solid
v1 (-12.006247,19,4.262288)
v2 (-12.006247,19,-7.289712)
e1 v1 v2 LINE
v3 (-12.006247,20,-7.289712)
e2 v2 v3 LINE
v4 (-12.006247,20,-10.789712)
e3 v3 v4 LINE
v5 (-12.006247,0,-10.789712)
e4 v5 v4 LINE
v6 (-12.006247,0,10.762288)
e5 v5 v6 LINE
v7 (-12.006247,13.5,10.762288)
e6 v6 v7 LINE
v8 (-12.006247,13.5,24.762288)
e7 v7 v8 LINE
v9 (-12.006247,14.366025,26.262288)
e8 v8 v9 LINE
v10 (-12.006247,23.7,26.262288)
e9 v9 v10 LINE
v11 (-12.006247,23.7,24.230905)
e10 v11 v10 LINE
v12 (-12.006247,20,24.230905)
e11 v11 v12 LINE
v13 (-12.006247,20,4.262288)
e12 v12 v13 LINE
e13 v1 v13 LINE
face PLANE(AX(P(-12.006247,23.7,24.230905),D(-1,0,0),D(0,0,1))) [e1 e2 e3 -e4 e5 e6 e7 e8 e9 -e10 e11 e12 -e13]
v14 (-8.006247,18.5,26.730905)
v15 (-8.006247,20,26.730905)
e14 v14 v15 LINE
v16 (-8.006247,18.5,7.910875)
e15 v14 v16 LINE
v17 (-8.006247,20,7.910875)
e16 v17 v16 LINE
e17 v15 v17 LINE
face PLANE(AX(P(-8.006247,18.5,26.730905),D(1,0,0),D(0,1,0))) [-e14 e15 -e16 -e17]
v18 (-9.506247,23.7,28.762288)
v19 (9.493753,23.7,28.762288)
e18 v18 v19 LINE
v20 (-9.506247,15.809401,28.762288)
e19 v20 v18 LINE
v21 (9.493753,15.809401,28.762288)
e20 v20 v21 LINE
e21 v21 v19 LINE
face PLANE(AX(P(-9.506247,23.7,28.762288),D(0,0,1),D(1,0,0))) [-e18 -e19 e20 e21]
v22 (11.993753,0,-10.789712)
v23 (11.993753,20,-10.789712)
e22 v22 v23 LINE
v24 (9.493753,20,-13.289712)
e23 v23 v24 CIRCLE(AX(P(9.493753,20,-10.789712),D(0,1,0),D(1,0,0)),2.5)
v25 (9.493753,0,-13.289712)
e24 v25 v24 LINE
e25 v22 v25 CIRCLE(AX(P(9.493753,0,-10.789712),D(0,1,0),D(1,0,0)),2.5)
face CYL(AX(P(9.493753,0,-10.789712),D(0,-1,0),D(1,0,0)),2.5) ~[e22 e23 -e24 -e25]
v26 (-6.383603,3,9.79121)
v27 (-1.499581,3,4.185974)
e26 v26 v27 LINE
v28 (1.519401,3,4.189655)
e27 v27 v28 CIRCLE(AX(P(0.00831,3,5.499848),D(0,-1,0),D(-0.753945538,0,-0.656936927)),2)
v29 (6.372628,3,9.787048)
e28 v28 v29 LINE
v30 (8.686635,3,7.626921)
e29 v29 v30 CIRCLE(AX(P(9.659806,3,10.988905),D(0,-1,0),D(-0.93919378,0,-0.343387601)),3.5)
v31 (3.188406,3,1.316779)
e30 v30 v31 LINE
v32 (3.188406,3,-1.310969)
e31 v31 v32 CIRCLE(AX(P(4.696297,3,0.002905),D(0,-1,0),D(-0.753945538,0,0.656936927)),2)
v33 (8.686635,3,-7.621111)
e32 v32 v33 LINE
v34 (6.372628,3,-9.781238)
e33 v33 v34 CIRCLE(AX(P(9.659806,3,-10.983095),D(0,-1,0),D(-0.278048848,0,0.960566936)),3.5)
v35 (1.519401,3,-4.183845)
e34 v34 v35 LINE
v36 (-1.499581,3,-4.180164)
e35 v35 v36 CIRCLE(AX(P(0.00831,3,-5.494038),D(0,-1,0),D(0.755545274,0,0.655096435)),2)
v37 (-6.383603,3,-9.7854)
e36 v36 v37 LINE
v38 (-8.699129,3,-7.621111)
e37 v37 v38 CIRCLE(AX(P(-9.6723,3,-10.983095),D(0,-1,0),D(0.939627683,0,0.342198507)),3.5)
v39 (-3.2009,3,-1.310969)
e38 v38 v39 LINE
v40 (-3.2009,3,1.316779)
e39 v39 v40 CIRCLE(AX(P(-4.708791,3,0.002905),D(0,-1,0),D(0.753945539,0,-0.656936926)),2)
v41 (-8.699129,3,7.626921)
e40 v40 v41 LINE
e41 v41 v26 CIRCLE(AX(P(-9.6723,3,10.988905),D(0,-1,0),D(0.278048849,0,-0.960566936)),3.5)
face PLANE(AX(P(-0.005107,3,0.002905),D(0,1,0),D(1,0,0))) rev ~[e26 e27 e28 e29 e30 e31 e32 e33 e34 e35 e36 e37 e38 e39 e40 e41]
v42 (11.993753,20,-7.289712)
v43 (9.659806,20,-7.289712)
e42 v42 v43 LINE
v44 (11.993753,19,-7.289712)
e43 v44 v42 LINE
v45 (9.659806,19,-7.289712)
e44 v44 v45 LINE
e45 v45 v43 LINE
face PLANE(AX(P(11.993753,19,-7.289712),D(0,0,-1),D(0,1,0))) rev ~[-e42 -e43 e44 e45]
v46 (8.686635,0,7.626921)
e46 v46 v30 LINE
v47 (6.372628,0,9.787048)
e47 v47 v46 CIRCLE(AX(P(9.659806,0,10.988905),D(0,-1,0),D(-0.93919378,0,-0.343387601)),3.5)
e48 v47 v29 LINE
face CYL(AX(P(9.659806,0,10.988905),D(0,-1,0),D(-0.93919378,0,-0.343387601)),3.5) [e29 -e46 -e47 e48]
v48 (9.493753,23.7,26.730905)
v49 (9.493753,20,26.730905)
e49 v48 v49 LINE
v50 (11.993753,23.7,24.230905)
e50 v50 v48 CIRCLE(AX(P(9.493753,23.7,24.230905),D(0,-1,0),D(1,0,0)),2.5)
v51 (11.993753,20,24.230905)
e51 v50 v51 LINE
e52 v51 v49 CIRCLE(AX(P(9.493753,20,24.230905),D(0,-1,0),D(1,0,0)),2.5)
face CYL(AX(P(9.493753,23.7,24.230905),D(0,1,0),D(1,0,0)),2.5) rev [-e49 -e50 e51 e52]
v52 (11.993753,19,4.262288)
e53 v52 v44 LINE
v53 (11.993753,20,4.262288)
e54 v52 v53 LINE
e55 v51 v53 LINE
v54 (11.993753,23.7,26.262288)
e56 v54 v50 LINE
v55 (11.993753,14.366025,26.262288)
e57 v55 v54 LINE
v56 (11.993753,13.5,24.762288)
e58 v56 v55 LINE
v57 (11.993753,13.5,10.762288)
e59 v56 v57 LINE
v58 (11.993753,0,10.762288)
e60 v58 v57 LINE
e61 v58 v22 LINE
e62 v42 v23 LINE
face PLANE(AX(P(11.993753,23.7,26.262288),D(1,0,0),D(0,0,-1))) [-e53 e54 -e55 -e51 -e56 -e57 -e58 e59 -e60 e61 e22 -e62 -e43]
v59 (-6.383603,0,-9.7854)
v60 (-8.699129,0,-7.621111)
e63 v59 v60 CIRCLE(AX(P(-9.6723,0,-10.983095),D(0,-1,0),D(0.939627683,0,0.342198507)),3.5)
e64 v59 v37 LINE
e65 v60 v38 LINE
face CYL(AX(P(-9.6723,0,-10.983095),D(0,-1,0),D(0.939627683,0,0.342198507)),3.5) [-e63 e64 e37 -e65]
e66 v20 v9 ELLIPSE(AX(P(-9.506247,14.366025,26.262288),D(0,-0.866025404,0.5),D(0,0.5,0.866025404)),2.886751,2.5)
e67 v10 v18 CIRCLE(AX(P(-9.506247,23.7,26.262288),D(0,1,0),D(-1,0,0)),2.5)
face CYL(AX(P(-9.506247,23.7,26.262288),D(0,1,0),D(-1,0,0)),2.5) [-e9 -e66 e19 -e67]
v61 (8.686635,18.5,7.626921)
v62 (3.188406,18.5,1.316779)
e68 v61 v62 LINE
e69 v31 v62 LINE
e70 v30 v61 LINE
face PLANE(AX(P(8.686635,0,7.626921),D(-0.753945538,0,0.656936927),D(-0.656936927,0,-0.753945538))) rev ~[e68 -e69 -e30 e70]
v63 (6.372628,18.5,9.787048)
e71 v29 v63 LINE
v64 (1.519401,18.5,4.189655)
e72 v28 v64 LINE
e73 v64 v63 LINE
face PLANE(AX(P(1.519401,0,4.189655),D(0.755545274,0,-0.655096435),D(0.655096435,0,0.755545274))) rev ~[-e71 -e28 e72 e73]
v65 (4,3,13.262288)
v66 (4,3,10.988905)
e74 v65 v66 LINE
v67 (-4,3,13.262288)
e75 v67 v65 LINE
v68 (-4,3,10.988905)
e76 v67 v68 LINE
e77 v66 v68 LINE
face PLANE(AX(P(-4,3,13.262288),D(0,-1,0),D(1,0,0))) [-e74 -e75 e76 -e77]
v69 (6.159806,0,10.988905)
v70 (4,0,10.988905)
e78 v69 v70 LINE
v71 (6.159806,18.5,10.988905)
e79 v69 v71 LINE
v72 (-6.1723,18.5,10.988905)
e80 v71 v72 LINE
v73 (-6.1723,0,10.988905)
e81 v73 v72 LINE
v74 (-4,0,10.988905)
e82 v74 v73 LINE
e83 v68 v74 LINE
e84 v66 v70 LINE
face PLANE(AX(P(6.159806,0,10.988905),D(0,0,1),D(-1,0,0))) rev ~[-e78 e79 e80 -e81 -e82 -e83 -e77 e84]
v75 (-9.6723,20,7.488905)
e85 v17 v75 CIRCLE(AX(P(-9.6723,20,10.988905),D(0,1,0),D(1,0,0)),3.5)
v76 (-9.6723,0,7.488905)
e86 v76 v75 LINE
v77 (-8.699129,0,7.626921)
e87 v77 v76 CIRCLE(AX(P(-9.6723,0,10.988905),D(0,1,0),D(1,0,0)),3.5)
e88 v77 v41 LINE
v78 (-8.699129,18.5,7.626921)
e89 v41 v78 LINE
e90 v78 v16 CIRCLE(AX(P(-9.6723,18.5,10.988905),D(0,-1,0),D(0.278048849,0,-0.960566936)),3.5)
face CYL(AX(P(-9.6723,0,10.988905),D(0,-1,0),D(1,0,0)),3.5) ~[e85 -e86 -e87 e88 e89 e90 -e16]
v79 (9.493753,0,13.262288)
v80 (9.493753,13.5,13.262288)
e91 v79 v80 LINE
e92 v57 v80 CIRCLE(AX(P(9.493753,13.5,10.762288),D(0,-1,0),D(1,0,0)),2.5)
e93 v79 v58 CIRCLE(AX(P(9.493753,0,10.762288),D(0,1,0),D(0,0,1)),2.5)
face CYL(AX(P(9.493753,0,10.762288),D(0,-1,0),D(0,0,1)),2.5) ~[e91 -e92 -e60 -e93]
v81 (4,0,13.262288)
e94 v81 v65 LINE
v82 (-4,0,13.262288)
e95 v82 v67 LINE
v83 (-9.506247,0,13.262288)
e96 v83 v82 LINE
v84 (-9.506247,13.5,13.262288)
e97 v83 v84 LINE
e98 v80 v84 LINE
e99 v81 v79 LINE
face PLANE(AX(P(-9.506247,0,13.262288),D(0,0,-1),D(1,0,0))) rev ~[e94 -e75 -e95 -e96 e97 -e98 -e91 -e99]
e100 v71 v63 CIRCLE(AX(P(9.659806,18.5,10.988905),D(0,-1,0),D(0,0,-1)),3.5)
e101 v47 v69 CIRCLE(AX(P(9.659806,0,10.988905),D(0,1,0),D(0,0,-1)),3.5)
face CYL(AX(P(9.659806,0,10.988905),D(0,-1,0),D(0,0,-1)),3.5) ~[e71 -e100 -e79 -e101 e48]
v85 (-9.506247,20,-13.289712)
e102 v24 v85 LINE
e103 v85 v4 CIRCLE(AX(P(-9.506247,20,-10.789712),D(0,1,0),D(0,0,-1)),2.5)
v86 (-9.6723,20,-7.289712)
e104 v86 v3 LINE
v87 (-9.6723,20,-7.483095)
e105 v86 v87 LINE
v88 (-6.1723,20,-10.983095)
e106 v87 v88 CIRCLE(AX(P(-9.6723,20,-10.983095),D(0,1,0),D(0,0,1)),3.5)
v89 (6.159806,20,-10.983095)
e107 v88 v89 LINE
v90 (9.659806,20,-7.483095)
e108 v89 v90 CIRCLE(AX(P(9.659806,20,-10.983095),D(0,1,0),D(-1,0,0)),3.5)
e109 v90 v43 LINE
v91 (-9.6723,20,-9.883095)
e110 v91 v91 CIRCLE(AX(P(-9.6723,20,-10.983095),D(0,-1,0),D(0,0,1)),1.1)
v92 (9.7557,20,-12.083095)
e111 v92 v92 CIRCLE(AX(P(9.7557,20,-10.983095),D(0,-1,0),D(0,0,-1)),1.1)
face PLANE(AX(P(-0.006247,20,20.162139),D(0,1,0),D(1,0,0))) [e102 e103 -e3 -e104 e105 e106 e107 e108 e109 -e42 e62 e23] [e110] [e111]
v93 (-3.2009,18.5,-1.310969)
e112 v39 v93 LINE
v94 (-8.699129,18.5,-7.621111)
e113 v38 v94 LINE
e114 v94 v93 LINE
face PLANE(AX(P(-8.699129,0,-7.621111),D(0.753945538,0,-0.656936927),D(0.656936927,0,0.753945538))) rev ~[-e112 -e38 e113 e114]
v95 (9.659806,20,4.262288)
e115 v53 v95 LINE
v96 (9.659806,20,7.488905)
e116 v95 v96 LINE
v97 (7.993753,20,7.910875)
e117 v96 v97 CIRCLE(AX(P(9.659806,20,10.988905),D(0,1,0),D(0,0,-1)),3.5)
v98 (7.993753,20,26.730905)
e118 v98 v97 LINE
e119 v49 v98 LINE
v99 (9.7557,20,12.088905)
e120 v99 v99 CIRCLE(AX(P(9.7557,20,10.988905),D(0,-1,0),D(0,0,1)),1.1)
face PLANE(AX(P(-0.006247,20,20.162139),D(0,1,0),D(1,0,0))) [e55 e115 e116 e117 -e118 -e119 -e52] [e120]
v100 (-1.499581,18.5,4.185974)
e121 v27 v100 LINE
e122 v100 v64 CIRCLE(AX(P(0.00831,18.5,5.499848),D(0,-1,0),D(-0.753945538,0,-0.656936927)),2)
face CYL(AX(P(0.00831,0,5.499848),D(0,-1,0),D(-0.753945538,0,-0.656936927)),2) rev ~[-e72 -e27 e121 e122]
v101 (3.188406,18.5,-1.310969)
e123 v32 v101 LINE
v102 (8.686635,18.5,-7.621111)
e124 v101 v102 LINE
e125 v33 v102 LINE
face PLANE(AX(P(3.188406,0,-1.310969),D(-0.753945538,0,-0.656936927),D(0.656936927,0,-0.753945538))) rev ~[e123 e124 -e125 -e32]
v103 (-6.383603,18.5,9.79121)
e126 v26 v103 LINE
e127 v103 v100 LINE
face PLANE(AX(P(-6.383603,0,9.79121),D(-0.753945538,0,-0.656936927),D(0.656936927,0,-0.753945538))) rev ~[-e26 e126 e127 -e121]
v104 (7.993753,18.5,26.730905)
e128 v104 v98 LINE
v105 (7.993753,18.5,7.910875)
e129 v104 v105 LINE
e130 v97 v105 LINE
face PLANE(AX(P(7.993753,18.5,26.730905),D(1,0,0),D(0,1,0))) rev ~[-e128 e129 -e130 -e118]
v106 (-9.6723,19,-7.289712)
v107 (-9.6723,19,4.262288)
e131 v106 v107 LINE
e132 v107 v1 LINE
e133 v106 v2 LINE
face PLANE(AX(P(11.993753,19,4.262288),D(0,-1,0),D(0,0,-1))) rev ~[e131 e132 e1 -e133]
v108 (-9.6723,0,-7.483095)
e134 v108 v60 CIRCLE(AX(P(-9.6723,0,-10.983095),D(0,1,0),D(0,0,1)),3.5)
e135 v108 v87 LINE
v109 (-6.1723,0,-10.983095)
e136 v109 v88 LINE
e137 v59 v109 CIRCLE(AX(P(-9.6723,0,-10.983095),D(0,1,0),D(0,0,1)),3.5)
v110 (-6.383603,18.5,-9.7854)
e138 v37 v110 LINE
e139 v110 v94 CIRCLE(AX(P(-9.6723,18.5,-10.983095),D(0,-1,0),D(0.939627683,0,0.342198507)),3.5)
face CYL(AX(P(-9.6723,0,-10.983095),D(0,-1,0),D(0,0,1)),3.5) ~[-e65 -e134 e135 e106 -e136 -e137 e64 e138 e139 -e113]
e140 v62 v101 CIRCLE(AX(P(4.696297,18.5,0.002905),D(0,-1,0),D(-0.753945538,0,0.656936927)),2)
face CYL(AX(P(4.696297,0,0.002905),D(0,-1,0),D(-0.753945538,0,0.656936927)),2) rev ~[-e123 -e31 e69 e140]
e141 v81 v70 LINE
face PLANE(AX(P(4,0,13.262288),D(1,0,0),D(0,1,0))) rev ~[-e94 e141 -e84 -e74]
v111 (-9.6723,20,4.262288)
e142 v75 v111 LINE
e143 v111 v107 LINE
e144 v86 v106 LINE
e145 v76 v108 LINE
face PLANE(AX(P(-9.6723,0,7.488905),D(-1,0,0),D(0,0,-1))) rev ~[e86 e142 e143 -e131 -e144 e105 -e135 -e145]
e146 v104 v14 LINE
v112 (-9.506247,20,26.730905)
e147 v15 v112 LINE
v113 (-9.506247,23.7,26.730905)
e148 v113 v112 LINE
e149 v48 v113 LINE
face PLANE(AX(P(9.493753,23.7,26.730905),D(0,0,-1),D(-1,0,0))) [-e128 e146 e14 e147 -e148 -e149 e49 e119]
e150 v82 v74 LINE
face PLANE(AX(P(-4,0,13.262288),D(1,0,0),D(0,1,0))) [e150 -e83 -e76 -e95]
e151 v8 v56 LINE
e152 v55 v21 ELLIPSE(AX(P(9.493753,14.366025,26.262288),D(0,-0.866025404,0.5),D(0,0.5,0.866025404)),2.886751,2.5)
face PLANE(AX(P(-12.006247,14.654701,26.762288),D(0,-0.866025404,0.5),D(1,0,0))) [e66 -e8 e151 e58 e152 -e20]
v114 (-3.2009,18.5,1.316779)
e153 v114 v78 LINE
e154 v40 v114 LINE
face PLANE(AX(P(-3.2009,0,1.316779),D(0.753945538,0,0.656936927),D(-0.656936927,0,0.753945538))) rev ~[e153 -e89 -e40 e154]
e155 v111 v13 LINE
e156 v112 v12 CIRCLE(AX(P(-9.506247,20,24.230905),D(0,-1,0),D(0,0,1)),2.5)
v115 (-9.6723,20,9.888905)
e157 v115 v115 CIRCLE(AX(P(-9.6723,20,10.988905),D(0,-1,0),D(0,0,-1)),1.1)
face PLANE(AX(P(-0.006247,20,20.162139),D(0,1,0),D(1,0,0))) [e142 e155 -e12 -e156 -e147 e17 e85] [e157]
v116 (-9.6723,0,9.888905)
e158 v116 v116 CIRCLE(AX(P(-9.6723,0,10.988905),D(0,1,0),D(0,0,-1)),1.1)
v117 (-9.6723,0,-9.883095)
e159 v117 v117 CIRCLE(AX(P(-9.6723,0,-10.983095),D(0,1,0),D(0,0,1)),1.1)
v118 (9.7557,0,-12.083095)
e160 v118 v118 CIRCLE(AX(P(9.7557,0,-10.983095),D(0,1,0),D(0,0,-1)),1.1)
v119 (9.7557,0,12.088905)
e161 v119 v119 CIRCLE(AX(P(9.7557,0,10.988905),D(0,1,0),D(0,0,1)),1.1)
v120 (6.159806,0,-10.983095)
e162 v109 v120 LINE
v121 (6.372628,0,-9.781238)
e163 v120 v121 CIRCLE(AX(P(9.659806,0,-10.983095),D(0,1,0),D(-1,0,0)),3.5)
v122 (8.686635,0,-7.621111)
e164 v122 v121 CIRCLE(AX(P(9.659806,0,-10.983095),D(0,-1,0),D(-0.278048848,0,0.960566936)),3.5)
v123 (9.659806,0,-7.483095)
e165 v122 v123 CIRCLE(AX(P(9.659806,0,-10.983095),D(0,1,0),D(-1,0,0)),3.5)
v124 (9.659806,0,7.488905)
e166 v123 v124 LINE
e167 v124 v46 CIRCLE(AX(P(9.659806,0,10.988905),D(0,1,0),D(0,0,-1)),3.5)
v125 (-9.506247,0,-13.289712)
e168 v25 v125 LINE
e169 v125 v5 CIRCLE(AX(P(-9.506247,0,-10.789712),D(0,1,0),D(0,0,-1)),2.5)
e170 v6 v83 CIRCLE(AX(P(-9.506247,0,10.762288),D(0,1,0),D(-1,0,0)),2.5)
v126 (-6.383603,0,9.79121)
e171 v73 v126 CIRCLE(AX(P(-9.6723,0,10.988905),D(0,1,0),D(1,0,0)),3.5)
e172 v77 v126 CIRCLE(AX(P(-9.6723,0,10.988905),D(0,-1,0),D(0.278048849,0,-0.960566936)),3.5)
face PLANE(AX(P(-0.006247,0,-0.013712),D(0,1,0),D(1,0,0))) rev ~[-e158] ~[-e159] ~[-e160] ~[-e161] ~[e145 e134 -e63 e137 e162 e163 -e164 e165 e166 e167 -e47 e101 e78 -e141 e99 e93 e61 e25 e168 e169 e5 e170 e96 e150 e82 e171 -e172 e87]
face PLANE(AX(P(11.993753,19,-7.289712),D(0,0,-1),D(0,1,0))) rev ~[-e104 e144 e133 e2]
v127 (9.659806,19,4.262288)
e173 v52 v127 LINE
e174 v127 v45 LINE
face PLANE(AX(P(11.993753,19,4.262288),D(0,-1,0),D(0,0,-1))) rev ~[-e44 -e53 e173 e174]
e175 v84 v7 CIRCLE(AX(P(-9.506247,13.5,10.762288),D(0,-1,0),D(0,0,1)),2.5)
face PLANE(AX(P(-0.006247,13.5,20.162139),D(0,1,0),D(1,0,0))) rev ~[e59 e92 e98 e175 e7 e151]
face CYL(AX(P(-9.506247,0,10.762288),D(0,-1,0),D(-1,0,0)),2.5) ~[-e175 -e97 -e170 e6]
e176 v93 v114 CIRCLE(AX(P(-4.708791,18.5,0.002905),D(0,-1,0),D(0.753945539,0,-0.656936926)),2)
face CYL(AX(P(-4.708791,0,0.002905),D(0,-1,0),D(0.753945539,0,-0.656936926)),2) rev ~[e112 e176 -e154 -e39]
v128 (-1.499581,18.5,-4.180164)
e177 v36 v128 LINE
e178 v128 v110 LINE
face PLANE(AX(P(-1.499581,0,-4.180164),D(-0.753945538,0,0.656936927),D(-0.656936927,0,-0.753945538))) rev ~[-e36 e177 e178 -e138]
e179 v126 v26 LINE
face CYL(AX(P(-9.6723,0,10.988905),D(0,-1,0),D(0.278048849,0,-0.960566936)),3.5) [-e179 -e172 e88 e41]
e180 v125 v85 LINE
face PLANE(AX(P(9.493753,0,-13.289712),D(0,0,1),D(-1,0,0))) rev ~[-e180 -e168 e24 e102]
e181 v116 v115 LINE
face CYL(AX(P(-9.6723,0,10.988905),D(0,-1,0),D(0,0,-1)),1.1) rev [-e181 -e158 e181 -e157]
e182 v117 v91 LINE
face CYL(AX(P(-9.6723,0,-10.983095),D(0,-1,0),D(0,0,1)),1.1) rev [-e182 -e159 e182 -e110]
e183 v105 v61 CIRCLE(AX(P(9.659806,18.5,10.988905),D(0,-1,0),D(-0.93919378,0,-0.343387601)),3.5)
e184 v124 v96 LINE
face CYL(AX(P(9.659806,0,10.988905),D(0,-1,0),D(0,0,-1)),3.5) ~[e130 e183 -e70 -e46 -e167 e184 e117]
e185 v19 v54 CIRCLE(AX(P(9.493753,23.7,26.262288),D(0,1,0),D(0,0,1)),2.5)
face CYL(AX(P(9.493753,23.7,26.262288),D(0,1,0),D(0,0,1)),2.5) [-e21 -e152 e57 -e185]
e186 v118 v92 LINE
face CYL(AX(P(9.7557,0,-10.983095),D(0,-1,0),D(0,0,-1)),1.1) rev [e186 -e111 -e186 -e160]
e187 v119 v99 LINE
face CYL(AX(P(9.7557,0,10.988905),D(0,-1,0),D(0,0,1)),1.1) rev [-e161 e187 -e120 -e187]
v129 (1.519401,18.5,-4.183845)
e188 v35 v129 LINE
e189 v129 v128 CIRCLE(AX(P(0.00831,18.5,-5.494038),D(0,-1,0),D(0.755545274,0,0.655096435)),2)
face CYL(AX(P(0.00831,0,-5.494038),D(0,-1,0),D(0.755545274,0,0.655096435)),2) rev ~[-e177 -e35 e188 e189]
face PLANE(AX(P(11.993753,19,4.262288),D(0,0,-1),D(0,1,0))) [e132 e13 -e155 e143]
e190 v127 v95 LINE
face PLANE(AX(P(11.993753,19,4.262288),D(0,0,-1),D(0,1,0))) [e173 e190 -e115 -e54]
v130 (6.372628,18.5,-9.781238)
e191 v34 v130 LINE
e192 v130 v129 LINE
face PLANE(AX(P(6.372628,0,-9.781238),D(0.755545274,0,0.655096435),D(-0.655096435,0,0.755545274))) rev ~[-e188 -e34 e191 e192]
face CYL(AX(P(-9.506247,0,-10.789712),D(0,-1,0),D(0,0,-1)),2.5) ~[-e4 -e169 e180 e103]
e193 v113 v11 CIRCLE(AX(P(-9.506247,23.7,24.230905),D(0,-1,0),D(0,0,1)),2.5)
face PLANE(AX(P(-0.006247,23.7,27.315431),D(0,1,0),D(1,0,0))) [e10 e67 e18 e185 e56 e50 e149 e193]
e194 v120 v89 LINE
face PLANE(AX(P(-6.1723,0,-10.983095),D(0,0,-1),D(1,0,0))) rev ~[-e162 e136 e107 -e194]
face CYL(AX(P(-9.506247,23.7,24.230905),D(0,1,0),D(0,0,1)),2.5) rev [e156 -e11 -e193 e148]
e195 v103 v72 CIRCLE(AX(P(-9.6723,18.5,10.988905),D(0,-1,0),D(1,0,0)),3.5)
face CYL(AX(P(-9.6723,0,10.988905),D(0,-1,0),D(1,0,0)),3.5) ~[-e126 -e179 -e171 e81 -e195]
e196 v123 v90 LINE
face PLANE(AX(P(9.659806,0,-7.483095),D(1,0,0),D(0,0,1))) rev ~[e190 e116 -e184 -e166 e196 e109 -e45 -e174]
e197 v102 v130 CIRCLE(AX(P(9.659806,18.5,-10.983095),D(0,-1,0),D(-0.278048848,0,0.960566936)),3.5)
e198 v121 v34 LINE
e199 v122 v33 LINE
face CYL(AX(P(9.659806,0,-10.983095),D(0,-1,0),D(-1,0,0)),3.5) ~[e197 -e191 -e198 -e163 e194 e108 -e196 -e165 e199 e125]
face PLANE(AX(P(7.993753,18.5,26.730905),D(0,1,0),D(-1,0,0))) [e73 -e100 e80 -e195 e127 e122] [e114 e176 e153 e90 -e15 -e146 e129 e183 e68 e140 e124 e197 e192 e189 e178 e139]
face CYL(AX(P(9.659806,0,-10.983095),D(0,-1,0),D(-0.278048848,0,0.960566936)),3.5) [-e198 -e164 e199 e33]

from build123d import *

# Parameters (mm, degrees)
EXTRUDE_1_DEPTH           = 20
EXTRUDE_2_DEPTH           = 18.5
EXTRUDE_START             = -6.5
EXTRUDE_8_DEPTH           = 6.5
CUT_EXTRUDE_1_DEPTH       = 3
CUT_EXTRUDE_12_REACH      = 37.343
SKETCH_8_W                = 8
SKETCH_8_H                = 3
SKETCH_1_10_R             = 1.1
CUT_EXTRUDE_13_DEPTH      = 38.032676918
SKETCH_18_W               = 11.552
SKETCH_18_H               = 1
CUT_EXTRUDE_16_DEPTH      = 43.464917168
CHAMFER_1_SIZE            = 4
CHAMFER_1_SIZE2           = 2.309401077
CUT_EXTRUDE_18_REACH      = 39.033
EXTRUDE_START_2           = 3.7
EXTRUDE_9_DEPTH           = 3.7
CUT_EXTRUDE_19_DEPTH      = 11.5
CUT_EXTRUDE_19_DEPTH_BACK = 15.742
SKETCH_22_W               = 16
SKETCH_22_H               = 1.5


with BuildPart() as part:
    # 草图1 → 凸台-拉伸1 (new body)
    with BuildSketch(Plane(origin=(0, 0, 0), x_dir=(1, 0, 0), z_dir=(0, 1, 0))):
        with BuildLine():
            Line((9.493752892, 13.289712364), (-9.506247108, 13.289712364))
            ThreePointArc((-9.506247108, 13.289712364), (-11.274014061, 12.557479317), (-12.006247108, 10.789712364))
            Line((-12.006247108, 10.789712364), (-12.006247108, -10.762287636))
            ThreePointArc((-12.006247108, -10.762287636), (-11.274014061, -12.530054589), (-9.506247108, -13.262287636))
            Line((-9.506247108, -13.262287636), (9.493752892, -13.262287636))
            ThreePointArc((9.493752892, -13.262287636), (11.261519845, -12.530054589), (11.993752892, -10.762287636))
            Line((11.993752892, -10.762287636), (11.993752892, 10.789712364))
            ThreePointArc((11.993752892, 10.789712364), (11.261519845, 12.557479317), (9.493752892, 13.289712364))
        make_face()
        with BuildLine():
            Line((-9.672300027, -7.488904962), (-9.672300027, 7.483095038))
            ThreePointArc((-9.672300027, 7.483095038), (-7.197426293, 8.508221304), (-6.172300027, 10.983095038))
            Line((-6.172300027, 10.983095038), (6.159805812, 10.983095038))
            ThreePointArc((6.159805812, 10.983095038), (7.184932077, 8.508221304), (9.659805812, 7.483095038))
            Line((9.659805812, 7.483095038), (9.659805812, -7.488904962))
            ThreePointArc((9.659805812, -7.488904962), (7.184932077, -8.514031228), (6.159805812, -10.988904962))
            Line((6.159805812, -10.988904962), (-6.172300027, -10.988904962))
            ThreePointArc((-6.172300027, -10.988904962), (-7.197426293, -8.514031228), (-9.672300027, -7.488904962))
        make_face(mode=Mode.SUBTRACT)
    extrude(amount=EXTRUDE_1_DEPTH)

    # 草图3<8> → 凸台-拉伸2 (add)
    with BuildSketch(Plane(origin=(0, 0, 0), x_dir=(1, 0, 0), z_dir=(0, 1, 0))):
        with BuildLine():
            Line((-1.499580884, 4.180163842), (-6.383603139, 9.785400263))
            ThreePointArc((-6.383603139, 9.785400263), (-7.282338381, 8.426127434), (-8.699129058, 7.621110763))
            Line((-8.699129058, 7.621110763), (-3.200900077, 1.310968891))
            ThreePointArc((-3.200900077, 1.310968891), (-2.708791154, -0.002904962), (-3.200900077, -1.316778815))
            Line((-3.200900077, -1.316778815), (-8.699129058, -7.626920687))
            ThreePointArc((-8.699129058, -7.626920687), (-7.282338381, -8.431937358), (-6.383603139, -9.791210187))
            Line((-6.383603139, -9.791210187), (-1.499580884, -4.185973766))
            ThreePointArc((-1.499580884, -4.185973766), (0.01074875, -3.499849106), (1.51940074, -4.189654748))
            Line((1.51940074, -4.189654748), (6.372627583, -9.78704836))
            ThreePointArc((6.372627583, -9.78704836), (7.271462931, -8.43042528), (8.686634842, -7.626920687))
            Line((8.686634842, -7.626920687), (3.188405862, -1.316778815))
            ThreePointArc((3.188405862, -1.316778815), (2.696296938, -0.002904962), (3.188405862, 1.310968891))
            Line((3.188405862, 1.310968891), (8.686634842, 7.621110763))
            ThreePointArc((8.686634842, 7.621110763), (7.271462931, 8.424615355), (6.372627583, 9.781238436))
            Line((6.372627583, 9.781238436), (1.51940074, 4.183844824))
            ThreePointArc((1.51940074, 4.183844824), (0.01074875, 3.494039181), (-1.499580884, 4.180163842))
        make_face()
    extrude(amount=EXTRUDE_2_DEPTH)

    # 草图10 → 凸台-拉伸8 (add)
    with BuildSketch(Plane(origin=(0, 20, 0), x_dir=(1, 0, 0), z_dir=(0, 1, 0)).offset(EXTRUDE_START)):
        with BuildLine():
            Line((-12.006247108, -10.762287636), (-12.006247108, -28.762287636))
            Line((-12.006247108, -28.762287636), (11.993752892, -28.762287636))
            Line((11.993752892, -28.762287636), (11.993752892, -10.762287636))
            ThreePointArc((11.993752892, -10.762287636), (11.261519845, -12.530054589), (9.493752892, -13.262287636))
            Line((9.493752892, -13.262287636), (-9.506247108, -13.262287636))
            ThreePointArc((-9.506247108, -13.262287636), (-11.274014061, -12.530054589), (-12.006247108, -10.762287636))
        make_face()
    extrude(amount=EXTRUDE_8_DEPTH)

    # 草图3<6> → 切除-拉伸1 (cut)
    with BuildSketch(Plane(origin=(0, 0, 0), x_dir=(1, 0, 0), z_dir=(0, 1, 0))):
        with BuildLine():
            Line((-1.499580884, 4.180163842), (-6.383603139, 9.785400263))
            ThreePointArc((-6.383603139, 9.785400263), (-7.282338381, 8.426127434), (-8.699129058, 7.621110763))
            Line((-8.699129058, 7.621110763), (-3.200900077, 1.310968891))
            ThreePointArc((-3.200900077, 1.310968891), (-2.708791154, -0.002904962), (-3.200900077, -1.316778815))
            Line((-3.200900077, -1.316778815), (-8.699129058, -7.626920687))
            ThreePointArc((-8.699129058, -7.626920687), (-7.282338381, -8.431937358), (-6.383603139, -9.791210187))
            Line((-6.383603139, -9.791210187), (-1.499580884, -4.185973766))
            ThreePointArc((-1.499580884, -4.185973766), (0.01074875, -3.499849106), (1.51940074, -4.189654748))
            Line((1.51940074, -4.189654748), (6.372627583, -9.78704836))
            ThreePointArc((6.372627583, -9.78704836), (7.271462931, -8.43042528), (8.686634842, -7.626920687))
            Line((8.686634842, -7.626920687), (3.188405862, -1.316778815))
            ThreePointArc((3.188405862, -1.316778815), (2.696296938, -0.002904962), (3.188405862, 1.310968891))
            Line((3.188405862, 1.310968891), (8.686634842, 7.621110763))
            ThreePointArc((8.686634842, 7.621110763), (7.271462931, 8.424615355), (6.372627583, 9.781238436))
            Line((6.372627583, 9.781238436), (1.51940074, 4.183844824))
            ThreePointArc((1.51940074, 4.183844824), (0.01074875, 3.494039181), (-1.499580884, 4.180163842))
        make_face()
    extrude(amount=CUT_EXTRUDE_1_DEPTH, mode=Mode.SUBTRACT)

    # 草图8 → 切除-拉伸12 (cut, up to next)
    with BuildSketch(Plane.XY.offset(13.262287636), mode=Mode.PRIVATE) as cut_extrude_12_sk1:
        with Locations((0, 1.5)):
            Rectangle(SKETCH_8_W, SKETCH_8_H)
    cut_extrude_12_tool1 = extrude(cut_extrude_12_sk1.sketch, amount=-CUT_EXTRUDE_12_REACH, mode=Mode.PRIVATE) & part.part
    add(cut_extrude_12_tool1.solids().sort_by_distance((0, 1.5, 13.262288))[0], mode=Mode.SUBTRACT)

    # 草图1<10> → 切除-拉伸13 (cut, through all)
    with BuildSketch(Plane(origin=(0, 0, 0), x_dir=(1, 0, 0), z_dir=(0, 1, 0))):
        with Locations(Location((-9.672300027, 10.983095038, 0), (0, 0, 270))):
            Circle(SKETCH_1_10_R)
        with Locations(Location((9.755699973, 10.983095038, 0), (0, 0, 90))):
            Circle(SKETCH_1_10_R)
        with Locations(Location((-9.672300027, -10.988904962, 0), (0, 0, 90))):
            Circle(SKETCH_1_10_R)
        with Locations(Location((9.755699973, -10.988904962, 0), (0, 0, 270))):
            Circle(SKETCH_1_10_R)
    extrude(amount=CUT_EXTRUDE_13_DEPTH, mode=Mode.SUBTRACT)

    # 草图18 → 切除-拉伸16 (cut, through all)
    with BuildSketch(Plane(origin=(11.993752892, 0, 0), x_dir=(0, 0, -1), z_dir=(1, 0, 0))):
        with Locations((1.513712364, 19.5)):
            Rectangle(SKETCH_18_W, SKETCH_18_H)
    extrude(amount=-CUT_EXTRUDE_16_DEPTH, mode=Mode.SUBTRACT)

    # 倒角1
    chamfer_1_edges = [part.edges().sort_by_distance(p)[0] for p in [
        (-0.006247108, 13.5, 28.762287636),
    ]]
    chamfer_1_side = [part.faces().sort_by_distance(p)[0] for p in [
        (-0.006247108, 13.5, 20.952803872),
    ]]
    chamfer(chamfer_1_edges, length=CHAMFER_1_SIZE, length2=CHAMFER_1_SIZE2, reference=chamfer_1_side[0])

    # 切除-拉伸18: up to this plane
    cut_extrude_18_end = Plane(origin=(0, 15.809401077, 28.762287636), z_dir=(0, -0.8660254037844402, 0.49999999999999745))
    # 草图20 → 切除-拉伸18 (cut, up to the surface)
    with BuildSketch(Plane(origin=(0, 20, 0), x_dir=(1, 0, 0), z_dir=(0, 1, 0)), mode=Mode.PRIVATE) as cut_extrude_18_sk1:
        with BuildLine():
            Line((-12.006247108, -26.262287636), (-12.006247108, -28.762287636))
            Line((-12.006247108, -28.762287636), (-9.506247108, -28.762287636))
            ThreePointArc((-9.506247108, -28.762287636), (-11.274014061, -28.030054589), (-12.006247108, -26.262287636))
        make_face()
    cut_extrude_18_tool1 = split(extrude(cut_extrude_18_sk1.sketch, amount=-CUT_EXTRUDE_18_REACH, mode=Mode.PRIVATE), bisect_by=cut_extrude_18_end, keep=Keep.BOTH, mode=Mode.PRIVATE)
    add(cut_extrude_18_tool1.solids().sort_by_distance((-11.447827, 20, 28.203868))[0], mode=Mode.SUBTRACT)
    # 草图20 → 切除-拉伸18 (cut, up to the surface)
    with BuildSketch(Plane(origin=(0, 20, 0), x_dir=(1, 0, 0), z_dir=(0, 1, 0)), mode=Mode.PRIVATE) as cut_extrude_18_sk2:
        with BuildLine():
            Line((11.993752892, -26.262287636), (11.993752892, -28.762287636))
            Line((11.993752892, -28.762287636), (9.493752892, -28.762287636))
            ThreePointArc((9.493752892, -28.762287636), (11.261519845, -28.030054589), (11.993752892, -26.262287636))
        make_face()
    cut_extrude_18_tool2 = split(extrude(cut_extrude_18_sk2.sketch, amount=-CUT_EXTRUDE_18_REACH, mode=Mode.PRIVATE), bisect_by=cut_extrude_18_end, keep=Keep.BOTH, mode=Mode.PRIVATE)
    add(cut_extrude_18_tool2.solids().sort_by_distance((11.435333, 20, 28.203868))[0], mode=Mode.SUBTRACT)

    # 草图21 → 凸台-拉伸9 (add)
    with BuildSketch(Plane(origin=(0, 20, 0), x_dir=(1, 0, 0), z_dir=(0, 1, 0)).offset(EXTRUDE_START_2)):
        with BuildLine():
            ThreePointArc((-9.506247108, -26.730904962), (-11.274014061, -25.998671915), (-12.006247108, -24.230904962))
            Line((-12.006247108, -24.230904962), (-12.006247108, -26.262287636))
            ThreePointArc((-12.006247108, -26.262287636), (-11.274014061, -28.030054589), (-9.506247108, -28.762287636))
            Line((-9.506247108, -28.762287636), (9.493752892, -28.762287636))
            ThreePointArc((9.493752892, -28.762287636), (11.261519845, -28.030054589), (11.993752892, -26.262287636))
            Line((11.993752892, -26.262287636), (11.993752892, -24.230904962))
            ThreePointArc((11.993752892, -24.230904962), (11.261519845, -25.998671915), (9.493752892, -26.730904962))
            Line((9.493752892, -26.730904962), (-9.506247108, -26.730904962))
        make_face()
    extrude(amount=-EXTRUDE_9_DEPTH)

    # 草图22 → 切除-拉伸19 (cut, two sides: drawn at the far end of the back side and taken through both)
    with BuildSketch(Plane(origin=(0, 0, 10.988904962), x_dir=(-1, 0, 0), z_dir=(0, 0, -1)).offset(-CUT_EXTRUDE_19_DEPTH_BACK)):
        with Locations((0.006247108, 19.25)):
            Rectangle(SKETCH_22_W, SKETCH_22_H)
    extrude(amount=CUT_EXTRUDE_19_DEPTH + CUT_EXTRUDE_19_DEPTH_BACK, mode=Mode.SUBTRACT)


solid = part.part
